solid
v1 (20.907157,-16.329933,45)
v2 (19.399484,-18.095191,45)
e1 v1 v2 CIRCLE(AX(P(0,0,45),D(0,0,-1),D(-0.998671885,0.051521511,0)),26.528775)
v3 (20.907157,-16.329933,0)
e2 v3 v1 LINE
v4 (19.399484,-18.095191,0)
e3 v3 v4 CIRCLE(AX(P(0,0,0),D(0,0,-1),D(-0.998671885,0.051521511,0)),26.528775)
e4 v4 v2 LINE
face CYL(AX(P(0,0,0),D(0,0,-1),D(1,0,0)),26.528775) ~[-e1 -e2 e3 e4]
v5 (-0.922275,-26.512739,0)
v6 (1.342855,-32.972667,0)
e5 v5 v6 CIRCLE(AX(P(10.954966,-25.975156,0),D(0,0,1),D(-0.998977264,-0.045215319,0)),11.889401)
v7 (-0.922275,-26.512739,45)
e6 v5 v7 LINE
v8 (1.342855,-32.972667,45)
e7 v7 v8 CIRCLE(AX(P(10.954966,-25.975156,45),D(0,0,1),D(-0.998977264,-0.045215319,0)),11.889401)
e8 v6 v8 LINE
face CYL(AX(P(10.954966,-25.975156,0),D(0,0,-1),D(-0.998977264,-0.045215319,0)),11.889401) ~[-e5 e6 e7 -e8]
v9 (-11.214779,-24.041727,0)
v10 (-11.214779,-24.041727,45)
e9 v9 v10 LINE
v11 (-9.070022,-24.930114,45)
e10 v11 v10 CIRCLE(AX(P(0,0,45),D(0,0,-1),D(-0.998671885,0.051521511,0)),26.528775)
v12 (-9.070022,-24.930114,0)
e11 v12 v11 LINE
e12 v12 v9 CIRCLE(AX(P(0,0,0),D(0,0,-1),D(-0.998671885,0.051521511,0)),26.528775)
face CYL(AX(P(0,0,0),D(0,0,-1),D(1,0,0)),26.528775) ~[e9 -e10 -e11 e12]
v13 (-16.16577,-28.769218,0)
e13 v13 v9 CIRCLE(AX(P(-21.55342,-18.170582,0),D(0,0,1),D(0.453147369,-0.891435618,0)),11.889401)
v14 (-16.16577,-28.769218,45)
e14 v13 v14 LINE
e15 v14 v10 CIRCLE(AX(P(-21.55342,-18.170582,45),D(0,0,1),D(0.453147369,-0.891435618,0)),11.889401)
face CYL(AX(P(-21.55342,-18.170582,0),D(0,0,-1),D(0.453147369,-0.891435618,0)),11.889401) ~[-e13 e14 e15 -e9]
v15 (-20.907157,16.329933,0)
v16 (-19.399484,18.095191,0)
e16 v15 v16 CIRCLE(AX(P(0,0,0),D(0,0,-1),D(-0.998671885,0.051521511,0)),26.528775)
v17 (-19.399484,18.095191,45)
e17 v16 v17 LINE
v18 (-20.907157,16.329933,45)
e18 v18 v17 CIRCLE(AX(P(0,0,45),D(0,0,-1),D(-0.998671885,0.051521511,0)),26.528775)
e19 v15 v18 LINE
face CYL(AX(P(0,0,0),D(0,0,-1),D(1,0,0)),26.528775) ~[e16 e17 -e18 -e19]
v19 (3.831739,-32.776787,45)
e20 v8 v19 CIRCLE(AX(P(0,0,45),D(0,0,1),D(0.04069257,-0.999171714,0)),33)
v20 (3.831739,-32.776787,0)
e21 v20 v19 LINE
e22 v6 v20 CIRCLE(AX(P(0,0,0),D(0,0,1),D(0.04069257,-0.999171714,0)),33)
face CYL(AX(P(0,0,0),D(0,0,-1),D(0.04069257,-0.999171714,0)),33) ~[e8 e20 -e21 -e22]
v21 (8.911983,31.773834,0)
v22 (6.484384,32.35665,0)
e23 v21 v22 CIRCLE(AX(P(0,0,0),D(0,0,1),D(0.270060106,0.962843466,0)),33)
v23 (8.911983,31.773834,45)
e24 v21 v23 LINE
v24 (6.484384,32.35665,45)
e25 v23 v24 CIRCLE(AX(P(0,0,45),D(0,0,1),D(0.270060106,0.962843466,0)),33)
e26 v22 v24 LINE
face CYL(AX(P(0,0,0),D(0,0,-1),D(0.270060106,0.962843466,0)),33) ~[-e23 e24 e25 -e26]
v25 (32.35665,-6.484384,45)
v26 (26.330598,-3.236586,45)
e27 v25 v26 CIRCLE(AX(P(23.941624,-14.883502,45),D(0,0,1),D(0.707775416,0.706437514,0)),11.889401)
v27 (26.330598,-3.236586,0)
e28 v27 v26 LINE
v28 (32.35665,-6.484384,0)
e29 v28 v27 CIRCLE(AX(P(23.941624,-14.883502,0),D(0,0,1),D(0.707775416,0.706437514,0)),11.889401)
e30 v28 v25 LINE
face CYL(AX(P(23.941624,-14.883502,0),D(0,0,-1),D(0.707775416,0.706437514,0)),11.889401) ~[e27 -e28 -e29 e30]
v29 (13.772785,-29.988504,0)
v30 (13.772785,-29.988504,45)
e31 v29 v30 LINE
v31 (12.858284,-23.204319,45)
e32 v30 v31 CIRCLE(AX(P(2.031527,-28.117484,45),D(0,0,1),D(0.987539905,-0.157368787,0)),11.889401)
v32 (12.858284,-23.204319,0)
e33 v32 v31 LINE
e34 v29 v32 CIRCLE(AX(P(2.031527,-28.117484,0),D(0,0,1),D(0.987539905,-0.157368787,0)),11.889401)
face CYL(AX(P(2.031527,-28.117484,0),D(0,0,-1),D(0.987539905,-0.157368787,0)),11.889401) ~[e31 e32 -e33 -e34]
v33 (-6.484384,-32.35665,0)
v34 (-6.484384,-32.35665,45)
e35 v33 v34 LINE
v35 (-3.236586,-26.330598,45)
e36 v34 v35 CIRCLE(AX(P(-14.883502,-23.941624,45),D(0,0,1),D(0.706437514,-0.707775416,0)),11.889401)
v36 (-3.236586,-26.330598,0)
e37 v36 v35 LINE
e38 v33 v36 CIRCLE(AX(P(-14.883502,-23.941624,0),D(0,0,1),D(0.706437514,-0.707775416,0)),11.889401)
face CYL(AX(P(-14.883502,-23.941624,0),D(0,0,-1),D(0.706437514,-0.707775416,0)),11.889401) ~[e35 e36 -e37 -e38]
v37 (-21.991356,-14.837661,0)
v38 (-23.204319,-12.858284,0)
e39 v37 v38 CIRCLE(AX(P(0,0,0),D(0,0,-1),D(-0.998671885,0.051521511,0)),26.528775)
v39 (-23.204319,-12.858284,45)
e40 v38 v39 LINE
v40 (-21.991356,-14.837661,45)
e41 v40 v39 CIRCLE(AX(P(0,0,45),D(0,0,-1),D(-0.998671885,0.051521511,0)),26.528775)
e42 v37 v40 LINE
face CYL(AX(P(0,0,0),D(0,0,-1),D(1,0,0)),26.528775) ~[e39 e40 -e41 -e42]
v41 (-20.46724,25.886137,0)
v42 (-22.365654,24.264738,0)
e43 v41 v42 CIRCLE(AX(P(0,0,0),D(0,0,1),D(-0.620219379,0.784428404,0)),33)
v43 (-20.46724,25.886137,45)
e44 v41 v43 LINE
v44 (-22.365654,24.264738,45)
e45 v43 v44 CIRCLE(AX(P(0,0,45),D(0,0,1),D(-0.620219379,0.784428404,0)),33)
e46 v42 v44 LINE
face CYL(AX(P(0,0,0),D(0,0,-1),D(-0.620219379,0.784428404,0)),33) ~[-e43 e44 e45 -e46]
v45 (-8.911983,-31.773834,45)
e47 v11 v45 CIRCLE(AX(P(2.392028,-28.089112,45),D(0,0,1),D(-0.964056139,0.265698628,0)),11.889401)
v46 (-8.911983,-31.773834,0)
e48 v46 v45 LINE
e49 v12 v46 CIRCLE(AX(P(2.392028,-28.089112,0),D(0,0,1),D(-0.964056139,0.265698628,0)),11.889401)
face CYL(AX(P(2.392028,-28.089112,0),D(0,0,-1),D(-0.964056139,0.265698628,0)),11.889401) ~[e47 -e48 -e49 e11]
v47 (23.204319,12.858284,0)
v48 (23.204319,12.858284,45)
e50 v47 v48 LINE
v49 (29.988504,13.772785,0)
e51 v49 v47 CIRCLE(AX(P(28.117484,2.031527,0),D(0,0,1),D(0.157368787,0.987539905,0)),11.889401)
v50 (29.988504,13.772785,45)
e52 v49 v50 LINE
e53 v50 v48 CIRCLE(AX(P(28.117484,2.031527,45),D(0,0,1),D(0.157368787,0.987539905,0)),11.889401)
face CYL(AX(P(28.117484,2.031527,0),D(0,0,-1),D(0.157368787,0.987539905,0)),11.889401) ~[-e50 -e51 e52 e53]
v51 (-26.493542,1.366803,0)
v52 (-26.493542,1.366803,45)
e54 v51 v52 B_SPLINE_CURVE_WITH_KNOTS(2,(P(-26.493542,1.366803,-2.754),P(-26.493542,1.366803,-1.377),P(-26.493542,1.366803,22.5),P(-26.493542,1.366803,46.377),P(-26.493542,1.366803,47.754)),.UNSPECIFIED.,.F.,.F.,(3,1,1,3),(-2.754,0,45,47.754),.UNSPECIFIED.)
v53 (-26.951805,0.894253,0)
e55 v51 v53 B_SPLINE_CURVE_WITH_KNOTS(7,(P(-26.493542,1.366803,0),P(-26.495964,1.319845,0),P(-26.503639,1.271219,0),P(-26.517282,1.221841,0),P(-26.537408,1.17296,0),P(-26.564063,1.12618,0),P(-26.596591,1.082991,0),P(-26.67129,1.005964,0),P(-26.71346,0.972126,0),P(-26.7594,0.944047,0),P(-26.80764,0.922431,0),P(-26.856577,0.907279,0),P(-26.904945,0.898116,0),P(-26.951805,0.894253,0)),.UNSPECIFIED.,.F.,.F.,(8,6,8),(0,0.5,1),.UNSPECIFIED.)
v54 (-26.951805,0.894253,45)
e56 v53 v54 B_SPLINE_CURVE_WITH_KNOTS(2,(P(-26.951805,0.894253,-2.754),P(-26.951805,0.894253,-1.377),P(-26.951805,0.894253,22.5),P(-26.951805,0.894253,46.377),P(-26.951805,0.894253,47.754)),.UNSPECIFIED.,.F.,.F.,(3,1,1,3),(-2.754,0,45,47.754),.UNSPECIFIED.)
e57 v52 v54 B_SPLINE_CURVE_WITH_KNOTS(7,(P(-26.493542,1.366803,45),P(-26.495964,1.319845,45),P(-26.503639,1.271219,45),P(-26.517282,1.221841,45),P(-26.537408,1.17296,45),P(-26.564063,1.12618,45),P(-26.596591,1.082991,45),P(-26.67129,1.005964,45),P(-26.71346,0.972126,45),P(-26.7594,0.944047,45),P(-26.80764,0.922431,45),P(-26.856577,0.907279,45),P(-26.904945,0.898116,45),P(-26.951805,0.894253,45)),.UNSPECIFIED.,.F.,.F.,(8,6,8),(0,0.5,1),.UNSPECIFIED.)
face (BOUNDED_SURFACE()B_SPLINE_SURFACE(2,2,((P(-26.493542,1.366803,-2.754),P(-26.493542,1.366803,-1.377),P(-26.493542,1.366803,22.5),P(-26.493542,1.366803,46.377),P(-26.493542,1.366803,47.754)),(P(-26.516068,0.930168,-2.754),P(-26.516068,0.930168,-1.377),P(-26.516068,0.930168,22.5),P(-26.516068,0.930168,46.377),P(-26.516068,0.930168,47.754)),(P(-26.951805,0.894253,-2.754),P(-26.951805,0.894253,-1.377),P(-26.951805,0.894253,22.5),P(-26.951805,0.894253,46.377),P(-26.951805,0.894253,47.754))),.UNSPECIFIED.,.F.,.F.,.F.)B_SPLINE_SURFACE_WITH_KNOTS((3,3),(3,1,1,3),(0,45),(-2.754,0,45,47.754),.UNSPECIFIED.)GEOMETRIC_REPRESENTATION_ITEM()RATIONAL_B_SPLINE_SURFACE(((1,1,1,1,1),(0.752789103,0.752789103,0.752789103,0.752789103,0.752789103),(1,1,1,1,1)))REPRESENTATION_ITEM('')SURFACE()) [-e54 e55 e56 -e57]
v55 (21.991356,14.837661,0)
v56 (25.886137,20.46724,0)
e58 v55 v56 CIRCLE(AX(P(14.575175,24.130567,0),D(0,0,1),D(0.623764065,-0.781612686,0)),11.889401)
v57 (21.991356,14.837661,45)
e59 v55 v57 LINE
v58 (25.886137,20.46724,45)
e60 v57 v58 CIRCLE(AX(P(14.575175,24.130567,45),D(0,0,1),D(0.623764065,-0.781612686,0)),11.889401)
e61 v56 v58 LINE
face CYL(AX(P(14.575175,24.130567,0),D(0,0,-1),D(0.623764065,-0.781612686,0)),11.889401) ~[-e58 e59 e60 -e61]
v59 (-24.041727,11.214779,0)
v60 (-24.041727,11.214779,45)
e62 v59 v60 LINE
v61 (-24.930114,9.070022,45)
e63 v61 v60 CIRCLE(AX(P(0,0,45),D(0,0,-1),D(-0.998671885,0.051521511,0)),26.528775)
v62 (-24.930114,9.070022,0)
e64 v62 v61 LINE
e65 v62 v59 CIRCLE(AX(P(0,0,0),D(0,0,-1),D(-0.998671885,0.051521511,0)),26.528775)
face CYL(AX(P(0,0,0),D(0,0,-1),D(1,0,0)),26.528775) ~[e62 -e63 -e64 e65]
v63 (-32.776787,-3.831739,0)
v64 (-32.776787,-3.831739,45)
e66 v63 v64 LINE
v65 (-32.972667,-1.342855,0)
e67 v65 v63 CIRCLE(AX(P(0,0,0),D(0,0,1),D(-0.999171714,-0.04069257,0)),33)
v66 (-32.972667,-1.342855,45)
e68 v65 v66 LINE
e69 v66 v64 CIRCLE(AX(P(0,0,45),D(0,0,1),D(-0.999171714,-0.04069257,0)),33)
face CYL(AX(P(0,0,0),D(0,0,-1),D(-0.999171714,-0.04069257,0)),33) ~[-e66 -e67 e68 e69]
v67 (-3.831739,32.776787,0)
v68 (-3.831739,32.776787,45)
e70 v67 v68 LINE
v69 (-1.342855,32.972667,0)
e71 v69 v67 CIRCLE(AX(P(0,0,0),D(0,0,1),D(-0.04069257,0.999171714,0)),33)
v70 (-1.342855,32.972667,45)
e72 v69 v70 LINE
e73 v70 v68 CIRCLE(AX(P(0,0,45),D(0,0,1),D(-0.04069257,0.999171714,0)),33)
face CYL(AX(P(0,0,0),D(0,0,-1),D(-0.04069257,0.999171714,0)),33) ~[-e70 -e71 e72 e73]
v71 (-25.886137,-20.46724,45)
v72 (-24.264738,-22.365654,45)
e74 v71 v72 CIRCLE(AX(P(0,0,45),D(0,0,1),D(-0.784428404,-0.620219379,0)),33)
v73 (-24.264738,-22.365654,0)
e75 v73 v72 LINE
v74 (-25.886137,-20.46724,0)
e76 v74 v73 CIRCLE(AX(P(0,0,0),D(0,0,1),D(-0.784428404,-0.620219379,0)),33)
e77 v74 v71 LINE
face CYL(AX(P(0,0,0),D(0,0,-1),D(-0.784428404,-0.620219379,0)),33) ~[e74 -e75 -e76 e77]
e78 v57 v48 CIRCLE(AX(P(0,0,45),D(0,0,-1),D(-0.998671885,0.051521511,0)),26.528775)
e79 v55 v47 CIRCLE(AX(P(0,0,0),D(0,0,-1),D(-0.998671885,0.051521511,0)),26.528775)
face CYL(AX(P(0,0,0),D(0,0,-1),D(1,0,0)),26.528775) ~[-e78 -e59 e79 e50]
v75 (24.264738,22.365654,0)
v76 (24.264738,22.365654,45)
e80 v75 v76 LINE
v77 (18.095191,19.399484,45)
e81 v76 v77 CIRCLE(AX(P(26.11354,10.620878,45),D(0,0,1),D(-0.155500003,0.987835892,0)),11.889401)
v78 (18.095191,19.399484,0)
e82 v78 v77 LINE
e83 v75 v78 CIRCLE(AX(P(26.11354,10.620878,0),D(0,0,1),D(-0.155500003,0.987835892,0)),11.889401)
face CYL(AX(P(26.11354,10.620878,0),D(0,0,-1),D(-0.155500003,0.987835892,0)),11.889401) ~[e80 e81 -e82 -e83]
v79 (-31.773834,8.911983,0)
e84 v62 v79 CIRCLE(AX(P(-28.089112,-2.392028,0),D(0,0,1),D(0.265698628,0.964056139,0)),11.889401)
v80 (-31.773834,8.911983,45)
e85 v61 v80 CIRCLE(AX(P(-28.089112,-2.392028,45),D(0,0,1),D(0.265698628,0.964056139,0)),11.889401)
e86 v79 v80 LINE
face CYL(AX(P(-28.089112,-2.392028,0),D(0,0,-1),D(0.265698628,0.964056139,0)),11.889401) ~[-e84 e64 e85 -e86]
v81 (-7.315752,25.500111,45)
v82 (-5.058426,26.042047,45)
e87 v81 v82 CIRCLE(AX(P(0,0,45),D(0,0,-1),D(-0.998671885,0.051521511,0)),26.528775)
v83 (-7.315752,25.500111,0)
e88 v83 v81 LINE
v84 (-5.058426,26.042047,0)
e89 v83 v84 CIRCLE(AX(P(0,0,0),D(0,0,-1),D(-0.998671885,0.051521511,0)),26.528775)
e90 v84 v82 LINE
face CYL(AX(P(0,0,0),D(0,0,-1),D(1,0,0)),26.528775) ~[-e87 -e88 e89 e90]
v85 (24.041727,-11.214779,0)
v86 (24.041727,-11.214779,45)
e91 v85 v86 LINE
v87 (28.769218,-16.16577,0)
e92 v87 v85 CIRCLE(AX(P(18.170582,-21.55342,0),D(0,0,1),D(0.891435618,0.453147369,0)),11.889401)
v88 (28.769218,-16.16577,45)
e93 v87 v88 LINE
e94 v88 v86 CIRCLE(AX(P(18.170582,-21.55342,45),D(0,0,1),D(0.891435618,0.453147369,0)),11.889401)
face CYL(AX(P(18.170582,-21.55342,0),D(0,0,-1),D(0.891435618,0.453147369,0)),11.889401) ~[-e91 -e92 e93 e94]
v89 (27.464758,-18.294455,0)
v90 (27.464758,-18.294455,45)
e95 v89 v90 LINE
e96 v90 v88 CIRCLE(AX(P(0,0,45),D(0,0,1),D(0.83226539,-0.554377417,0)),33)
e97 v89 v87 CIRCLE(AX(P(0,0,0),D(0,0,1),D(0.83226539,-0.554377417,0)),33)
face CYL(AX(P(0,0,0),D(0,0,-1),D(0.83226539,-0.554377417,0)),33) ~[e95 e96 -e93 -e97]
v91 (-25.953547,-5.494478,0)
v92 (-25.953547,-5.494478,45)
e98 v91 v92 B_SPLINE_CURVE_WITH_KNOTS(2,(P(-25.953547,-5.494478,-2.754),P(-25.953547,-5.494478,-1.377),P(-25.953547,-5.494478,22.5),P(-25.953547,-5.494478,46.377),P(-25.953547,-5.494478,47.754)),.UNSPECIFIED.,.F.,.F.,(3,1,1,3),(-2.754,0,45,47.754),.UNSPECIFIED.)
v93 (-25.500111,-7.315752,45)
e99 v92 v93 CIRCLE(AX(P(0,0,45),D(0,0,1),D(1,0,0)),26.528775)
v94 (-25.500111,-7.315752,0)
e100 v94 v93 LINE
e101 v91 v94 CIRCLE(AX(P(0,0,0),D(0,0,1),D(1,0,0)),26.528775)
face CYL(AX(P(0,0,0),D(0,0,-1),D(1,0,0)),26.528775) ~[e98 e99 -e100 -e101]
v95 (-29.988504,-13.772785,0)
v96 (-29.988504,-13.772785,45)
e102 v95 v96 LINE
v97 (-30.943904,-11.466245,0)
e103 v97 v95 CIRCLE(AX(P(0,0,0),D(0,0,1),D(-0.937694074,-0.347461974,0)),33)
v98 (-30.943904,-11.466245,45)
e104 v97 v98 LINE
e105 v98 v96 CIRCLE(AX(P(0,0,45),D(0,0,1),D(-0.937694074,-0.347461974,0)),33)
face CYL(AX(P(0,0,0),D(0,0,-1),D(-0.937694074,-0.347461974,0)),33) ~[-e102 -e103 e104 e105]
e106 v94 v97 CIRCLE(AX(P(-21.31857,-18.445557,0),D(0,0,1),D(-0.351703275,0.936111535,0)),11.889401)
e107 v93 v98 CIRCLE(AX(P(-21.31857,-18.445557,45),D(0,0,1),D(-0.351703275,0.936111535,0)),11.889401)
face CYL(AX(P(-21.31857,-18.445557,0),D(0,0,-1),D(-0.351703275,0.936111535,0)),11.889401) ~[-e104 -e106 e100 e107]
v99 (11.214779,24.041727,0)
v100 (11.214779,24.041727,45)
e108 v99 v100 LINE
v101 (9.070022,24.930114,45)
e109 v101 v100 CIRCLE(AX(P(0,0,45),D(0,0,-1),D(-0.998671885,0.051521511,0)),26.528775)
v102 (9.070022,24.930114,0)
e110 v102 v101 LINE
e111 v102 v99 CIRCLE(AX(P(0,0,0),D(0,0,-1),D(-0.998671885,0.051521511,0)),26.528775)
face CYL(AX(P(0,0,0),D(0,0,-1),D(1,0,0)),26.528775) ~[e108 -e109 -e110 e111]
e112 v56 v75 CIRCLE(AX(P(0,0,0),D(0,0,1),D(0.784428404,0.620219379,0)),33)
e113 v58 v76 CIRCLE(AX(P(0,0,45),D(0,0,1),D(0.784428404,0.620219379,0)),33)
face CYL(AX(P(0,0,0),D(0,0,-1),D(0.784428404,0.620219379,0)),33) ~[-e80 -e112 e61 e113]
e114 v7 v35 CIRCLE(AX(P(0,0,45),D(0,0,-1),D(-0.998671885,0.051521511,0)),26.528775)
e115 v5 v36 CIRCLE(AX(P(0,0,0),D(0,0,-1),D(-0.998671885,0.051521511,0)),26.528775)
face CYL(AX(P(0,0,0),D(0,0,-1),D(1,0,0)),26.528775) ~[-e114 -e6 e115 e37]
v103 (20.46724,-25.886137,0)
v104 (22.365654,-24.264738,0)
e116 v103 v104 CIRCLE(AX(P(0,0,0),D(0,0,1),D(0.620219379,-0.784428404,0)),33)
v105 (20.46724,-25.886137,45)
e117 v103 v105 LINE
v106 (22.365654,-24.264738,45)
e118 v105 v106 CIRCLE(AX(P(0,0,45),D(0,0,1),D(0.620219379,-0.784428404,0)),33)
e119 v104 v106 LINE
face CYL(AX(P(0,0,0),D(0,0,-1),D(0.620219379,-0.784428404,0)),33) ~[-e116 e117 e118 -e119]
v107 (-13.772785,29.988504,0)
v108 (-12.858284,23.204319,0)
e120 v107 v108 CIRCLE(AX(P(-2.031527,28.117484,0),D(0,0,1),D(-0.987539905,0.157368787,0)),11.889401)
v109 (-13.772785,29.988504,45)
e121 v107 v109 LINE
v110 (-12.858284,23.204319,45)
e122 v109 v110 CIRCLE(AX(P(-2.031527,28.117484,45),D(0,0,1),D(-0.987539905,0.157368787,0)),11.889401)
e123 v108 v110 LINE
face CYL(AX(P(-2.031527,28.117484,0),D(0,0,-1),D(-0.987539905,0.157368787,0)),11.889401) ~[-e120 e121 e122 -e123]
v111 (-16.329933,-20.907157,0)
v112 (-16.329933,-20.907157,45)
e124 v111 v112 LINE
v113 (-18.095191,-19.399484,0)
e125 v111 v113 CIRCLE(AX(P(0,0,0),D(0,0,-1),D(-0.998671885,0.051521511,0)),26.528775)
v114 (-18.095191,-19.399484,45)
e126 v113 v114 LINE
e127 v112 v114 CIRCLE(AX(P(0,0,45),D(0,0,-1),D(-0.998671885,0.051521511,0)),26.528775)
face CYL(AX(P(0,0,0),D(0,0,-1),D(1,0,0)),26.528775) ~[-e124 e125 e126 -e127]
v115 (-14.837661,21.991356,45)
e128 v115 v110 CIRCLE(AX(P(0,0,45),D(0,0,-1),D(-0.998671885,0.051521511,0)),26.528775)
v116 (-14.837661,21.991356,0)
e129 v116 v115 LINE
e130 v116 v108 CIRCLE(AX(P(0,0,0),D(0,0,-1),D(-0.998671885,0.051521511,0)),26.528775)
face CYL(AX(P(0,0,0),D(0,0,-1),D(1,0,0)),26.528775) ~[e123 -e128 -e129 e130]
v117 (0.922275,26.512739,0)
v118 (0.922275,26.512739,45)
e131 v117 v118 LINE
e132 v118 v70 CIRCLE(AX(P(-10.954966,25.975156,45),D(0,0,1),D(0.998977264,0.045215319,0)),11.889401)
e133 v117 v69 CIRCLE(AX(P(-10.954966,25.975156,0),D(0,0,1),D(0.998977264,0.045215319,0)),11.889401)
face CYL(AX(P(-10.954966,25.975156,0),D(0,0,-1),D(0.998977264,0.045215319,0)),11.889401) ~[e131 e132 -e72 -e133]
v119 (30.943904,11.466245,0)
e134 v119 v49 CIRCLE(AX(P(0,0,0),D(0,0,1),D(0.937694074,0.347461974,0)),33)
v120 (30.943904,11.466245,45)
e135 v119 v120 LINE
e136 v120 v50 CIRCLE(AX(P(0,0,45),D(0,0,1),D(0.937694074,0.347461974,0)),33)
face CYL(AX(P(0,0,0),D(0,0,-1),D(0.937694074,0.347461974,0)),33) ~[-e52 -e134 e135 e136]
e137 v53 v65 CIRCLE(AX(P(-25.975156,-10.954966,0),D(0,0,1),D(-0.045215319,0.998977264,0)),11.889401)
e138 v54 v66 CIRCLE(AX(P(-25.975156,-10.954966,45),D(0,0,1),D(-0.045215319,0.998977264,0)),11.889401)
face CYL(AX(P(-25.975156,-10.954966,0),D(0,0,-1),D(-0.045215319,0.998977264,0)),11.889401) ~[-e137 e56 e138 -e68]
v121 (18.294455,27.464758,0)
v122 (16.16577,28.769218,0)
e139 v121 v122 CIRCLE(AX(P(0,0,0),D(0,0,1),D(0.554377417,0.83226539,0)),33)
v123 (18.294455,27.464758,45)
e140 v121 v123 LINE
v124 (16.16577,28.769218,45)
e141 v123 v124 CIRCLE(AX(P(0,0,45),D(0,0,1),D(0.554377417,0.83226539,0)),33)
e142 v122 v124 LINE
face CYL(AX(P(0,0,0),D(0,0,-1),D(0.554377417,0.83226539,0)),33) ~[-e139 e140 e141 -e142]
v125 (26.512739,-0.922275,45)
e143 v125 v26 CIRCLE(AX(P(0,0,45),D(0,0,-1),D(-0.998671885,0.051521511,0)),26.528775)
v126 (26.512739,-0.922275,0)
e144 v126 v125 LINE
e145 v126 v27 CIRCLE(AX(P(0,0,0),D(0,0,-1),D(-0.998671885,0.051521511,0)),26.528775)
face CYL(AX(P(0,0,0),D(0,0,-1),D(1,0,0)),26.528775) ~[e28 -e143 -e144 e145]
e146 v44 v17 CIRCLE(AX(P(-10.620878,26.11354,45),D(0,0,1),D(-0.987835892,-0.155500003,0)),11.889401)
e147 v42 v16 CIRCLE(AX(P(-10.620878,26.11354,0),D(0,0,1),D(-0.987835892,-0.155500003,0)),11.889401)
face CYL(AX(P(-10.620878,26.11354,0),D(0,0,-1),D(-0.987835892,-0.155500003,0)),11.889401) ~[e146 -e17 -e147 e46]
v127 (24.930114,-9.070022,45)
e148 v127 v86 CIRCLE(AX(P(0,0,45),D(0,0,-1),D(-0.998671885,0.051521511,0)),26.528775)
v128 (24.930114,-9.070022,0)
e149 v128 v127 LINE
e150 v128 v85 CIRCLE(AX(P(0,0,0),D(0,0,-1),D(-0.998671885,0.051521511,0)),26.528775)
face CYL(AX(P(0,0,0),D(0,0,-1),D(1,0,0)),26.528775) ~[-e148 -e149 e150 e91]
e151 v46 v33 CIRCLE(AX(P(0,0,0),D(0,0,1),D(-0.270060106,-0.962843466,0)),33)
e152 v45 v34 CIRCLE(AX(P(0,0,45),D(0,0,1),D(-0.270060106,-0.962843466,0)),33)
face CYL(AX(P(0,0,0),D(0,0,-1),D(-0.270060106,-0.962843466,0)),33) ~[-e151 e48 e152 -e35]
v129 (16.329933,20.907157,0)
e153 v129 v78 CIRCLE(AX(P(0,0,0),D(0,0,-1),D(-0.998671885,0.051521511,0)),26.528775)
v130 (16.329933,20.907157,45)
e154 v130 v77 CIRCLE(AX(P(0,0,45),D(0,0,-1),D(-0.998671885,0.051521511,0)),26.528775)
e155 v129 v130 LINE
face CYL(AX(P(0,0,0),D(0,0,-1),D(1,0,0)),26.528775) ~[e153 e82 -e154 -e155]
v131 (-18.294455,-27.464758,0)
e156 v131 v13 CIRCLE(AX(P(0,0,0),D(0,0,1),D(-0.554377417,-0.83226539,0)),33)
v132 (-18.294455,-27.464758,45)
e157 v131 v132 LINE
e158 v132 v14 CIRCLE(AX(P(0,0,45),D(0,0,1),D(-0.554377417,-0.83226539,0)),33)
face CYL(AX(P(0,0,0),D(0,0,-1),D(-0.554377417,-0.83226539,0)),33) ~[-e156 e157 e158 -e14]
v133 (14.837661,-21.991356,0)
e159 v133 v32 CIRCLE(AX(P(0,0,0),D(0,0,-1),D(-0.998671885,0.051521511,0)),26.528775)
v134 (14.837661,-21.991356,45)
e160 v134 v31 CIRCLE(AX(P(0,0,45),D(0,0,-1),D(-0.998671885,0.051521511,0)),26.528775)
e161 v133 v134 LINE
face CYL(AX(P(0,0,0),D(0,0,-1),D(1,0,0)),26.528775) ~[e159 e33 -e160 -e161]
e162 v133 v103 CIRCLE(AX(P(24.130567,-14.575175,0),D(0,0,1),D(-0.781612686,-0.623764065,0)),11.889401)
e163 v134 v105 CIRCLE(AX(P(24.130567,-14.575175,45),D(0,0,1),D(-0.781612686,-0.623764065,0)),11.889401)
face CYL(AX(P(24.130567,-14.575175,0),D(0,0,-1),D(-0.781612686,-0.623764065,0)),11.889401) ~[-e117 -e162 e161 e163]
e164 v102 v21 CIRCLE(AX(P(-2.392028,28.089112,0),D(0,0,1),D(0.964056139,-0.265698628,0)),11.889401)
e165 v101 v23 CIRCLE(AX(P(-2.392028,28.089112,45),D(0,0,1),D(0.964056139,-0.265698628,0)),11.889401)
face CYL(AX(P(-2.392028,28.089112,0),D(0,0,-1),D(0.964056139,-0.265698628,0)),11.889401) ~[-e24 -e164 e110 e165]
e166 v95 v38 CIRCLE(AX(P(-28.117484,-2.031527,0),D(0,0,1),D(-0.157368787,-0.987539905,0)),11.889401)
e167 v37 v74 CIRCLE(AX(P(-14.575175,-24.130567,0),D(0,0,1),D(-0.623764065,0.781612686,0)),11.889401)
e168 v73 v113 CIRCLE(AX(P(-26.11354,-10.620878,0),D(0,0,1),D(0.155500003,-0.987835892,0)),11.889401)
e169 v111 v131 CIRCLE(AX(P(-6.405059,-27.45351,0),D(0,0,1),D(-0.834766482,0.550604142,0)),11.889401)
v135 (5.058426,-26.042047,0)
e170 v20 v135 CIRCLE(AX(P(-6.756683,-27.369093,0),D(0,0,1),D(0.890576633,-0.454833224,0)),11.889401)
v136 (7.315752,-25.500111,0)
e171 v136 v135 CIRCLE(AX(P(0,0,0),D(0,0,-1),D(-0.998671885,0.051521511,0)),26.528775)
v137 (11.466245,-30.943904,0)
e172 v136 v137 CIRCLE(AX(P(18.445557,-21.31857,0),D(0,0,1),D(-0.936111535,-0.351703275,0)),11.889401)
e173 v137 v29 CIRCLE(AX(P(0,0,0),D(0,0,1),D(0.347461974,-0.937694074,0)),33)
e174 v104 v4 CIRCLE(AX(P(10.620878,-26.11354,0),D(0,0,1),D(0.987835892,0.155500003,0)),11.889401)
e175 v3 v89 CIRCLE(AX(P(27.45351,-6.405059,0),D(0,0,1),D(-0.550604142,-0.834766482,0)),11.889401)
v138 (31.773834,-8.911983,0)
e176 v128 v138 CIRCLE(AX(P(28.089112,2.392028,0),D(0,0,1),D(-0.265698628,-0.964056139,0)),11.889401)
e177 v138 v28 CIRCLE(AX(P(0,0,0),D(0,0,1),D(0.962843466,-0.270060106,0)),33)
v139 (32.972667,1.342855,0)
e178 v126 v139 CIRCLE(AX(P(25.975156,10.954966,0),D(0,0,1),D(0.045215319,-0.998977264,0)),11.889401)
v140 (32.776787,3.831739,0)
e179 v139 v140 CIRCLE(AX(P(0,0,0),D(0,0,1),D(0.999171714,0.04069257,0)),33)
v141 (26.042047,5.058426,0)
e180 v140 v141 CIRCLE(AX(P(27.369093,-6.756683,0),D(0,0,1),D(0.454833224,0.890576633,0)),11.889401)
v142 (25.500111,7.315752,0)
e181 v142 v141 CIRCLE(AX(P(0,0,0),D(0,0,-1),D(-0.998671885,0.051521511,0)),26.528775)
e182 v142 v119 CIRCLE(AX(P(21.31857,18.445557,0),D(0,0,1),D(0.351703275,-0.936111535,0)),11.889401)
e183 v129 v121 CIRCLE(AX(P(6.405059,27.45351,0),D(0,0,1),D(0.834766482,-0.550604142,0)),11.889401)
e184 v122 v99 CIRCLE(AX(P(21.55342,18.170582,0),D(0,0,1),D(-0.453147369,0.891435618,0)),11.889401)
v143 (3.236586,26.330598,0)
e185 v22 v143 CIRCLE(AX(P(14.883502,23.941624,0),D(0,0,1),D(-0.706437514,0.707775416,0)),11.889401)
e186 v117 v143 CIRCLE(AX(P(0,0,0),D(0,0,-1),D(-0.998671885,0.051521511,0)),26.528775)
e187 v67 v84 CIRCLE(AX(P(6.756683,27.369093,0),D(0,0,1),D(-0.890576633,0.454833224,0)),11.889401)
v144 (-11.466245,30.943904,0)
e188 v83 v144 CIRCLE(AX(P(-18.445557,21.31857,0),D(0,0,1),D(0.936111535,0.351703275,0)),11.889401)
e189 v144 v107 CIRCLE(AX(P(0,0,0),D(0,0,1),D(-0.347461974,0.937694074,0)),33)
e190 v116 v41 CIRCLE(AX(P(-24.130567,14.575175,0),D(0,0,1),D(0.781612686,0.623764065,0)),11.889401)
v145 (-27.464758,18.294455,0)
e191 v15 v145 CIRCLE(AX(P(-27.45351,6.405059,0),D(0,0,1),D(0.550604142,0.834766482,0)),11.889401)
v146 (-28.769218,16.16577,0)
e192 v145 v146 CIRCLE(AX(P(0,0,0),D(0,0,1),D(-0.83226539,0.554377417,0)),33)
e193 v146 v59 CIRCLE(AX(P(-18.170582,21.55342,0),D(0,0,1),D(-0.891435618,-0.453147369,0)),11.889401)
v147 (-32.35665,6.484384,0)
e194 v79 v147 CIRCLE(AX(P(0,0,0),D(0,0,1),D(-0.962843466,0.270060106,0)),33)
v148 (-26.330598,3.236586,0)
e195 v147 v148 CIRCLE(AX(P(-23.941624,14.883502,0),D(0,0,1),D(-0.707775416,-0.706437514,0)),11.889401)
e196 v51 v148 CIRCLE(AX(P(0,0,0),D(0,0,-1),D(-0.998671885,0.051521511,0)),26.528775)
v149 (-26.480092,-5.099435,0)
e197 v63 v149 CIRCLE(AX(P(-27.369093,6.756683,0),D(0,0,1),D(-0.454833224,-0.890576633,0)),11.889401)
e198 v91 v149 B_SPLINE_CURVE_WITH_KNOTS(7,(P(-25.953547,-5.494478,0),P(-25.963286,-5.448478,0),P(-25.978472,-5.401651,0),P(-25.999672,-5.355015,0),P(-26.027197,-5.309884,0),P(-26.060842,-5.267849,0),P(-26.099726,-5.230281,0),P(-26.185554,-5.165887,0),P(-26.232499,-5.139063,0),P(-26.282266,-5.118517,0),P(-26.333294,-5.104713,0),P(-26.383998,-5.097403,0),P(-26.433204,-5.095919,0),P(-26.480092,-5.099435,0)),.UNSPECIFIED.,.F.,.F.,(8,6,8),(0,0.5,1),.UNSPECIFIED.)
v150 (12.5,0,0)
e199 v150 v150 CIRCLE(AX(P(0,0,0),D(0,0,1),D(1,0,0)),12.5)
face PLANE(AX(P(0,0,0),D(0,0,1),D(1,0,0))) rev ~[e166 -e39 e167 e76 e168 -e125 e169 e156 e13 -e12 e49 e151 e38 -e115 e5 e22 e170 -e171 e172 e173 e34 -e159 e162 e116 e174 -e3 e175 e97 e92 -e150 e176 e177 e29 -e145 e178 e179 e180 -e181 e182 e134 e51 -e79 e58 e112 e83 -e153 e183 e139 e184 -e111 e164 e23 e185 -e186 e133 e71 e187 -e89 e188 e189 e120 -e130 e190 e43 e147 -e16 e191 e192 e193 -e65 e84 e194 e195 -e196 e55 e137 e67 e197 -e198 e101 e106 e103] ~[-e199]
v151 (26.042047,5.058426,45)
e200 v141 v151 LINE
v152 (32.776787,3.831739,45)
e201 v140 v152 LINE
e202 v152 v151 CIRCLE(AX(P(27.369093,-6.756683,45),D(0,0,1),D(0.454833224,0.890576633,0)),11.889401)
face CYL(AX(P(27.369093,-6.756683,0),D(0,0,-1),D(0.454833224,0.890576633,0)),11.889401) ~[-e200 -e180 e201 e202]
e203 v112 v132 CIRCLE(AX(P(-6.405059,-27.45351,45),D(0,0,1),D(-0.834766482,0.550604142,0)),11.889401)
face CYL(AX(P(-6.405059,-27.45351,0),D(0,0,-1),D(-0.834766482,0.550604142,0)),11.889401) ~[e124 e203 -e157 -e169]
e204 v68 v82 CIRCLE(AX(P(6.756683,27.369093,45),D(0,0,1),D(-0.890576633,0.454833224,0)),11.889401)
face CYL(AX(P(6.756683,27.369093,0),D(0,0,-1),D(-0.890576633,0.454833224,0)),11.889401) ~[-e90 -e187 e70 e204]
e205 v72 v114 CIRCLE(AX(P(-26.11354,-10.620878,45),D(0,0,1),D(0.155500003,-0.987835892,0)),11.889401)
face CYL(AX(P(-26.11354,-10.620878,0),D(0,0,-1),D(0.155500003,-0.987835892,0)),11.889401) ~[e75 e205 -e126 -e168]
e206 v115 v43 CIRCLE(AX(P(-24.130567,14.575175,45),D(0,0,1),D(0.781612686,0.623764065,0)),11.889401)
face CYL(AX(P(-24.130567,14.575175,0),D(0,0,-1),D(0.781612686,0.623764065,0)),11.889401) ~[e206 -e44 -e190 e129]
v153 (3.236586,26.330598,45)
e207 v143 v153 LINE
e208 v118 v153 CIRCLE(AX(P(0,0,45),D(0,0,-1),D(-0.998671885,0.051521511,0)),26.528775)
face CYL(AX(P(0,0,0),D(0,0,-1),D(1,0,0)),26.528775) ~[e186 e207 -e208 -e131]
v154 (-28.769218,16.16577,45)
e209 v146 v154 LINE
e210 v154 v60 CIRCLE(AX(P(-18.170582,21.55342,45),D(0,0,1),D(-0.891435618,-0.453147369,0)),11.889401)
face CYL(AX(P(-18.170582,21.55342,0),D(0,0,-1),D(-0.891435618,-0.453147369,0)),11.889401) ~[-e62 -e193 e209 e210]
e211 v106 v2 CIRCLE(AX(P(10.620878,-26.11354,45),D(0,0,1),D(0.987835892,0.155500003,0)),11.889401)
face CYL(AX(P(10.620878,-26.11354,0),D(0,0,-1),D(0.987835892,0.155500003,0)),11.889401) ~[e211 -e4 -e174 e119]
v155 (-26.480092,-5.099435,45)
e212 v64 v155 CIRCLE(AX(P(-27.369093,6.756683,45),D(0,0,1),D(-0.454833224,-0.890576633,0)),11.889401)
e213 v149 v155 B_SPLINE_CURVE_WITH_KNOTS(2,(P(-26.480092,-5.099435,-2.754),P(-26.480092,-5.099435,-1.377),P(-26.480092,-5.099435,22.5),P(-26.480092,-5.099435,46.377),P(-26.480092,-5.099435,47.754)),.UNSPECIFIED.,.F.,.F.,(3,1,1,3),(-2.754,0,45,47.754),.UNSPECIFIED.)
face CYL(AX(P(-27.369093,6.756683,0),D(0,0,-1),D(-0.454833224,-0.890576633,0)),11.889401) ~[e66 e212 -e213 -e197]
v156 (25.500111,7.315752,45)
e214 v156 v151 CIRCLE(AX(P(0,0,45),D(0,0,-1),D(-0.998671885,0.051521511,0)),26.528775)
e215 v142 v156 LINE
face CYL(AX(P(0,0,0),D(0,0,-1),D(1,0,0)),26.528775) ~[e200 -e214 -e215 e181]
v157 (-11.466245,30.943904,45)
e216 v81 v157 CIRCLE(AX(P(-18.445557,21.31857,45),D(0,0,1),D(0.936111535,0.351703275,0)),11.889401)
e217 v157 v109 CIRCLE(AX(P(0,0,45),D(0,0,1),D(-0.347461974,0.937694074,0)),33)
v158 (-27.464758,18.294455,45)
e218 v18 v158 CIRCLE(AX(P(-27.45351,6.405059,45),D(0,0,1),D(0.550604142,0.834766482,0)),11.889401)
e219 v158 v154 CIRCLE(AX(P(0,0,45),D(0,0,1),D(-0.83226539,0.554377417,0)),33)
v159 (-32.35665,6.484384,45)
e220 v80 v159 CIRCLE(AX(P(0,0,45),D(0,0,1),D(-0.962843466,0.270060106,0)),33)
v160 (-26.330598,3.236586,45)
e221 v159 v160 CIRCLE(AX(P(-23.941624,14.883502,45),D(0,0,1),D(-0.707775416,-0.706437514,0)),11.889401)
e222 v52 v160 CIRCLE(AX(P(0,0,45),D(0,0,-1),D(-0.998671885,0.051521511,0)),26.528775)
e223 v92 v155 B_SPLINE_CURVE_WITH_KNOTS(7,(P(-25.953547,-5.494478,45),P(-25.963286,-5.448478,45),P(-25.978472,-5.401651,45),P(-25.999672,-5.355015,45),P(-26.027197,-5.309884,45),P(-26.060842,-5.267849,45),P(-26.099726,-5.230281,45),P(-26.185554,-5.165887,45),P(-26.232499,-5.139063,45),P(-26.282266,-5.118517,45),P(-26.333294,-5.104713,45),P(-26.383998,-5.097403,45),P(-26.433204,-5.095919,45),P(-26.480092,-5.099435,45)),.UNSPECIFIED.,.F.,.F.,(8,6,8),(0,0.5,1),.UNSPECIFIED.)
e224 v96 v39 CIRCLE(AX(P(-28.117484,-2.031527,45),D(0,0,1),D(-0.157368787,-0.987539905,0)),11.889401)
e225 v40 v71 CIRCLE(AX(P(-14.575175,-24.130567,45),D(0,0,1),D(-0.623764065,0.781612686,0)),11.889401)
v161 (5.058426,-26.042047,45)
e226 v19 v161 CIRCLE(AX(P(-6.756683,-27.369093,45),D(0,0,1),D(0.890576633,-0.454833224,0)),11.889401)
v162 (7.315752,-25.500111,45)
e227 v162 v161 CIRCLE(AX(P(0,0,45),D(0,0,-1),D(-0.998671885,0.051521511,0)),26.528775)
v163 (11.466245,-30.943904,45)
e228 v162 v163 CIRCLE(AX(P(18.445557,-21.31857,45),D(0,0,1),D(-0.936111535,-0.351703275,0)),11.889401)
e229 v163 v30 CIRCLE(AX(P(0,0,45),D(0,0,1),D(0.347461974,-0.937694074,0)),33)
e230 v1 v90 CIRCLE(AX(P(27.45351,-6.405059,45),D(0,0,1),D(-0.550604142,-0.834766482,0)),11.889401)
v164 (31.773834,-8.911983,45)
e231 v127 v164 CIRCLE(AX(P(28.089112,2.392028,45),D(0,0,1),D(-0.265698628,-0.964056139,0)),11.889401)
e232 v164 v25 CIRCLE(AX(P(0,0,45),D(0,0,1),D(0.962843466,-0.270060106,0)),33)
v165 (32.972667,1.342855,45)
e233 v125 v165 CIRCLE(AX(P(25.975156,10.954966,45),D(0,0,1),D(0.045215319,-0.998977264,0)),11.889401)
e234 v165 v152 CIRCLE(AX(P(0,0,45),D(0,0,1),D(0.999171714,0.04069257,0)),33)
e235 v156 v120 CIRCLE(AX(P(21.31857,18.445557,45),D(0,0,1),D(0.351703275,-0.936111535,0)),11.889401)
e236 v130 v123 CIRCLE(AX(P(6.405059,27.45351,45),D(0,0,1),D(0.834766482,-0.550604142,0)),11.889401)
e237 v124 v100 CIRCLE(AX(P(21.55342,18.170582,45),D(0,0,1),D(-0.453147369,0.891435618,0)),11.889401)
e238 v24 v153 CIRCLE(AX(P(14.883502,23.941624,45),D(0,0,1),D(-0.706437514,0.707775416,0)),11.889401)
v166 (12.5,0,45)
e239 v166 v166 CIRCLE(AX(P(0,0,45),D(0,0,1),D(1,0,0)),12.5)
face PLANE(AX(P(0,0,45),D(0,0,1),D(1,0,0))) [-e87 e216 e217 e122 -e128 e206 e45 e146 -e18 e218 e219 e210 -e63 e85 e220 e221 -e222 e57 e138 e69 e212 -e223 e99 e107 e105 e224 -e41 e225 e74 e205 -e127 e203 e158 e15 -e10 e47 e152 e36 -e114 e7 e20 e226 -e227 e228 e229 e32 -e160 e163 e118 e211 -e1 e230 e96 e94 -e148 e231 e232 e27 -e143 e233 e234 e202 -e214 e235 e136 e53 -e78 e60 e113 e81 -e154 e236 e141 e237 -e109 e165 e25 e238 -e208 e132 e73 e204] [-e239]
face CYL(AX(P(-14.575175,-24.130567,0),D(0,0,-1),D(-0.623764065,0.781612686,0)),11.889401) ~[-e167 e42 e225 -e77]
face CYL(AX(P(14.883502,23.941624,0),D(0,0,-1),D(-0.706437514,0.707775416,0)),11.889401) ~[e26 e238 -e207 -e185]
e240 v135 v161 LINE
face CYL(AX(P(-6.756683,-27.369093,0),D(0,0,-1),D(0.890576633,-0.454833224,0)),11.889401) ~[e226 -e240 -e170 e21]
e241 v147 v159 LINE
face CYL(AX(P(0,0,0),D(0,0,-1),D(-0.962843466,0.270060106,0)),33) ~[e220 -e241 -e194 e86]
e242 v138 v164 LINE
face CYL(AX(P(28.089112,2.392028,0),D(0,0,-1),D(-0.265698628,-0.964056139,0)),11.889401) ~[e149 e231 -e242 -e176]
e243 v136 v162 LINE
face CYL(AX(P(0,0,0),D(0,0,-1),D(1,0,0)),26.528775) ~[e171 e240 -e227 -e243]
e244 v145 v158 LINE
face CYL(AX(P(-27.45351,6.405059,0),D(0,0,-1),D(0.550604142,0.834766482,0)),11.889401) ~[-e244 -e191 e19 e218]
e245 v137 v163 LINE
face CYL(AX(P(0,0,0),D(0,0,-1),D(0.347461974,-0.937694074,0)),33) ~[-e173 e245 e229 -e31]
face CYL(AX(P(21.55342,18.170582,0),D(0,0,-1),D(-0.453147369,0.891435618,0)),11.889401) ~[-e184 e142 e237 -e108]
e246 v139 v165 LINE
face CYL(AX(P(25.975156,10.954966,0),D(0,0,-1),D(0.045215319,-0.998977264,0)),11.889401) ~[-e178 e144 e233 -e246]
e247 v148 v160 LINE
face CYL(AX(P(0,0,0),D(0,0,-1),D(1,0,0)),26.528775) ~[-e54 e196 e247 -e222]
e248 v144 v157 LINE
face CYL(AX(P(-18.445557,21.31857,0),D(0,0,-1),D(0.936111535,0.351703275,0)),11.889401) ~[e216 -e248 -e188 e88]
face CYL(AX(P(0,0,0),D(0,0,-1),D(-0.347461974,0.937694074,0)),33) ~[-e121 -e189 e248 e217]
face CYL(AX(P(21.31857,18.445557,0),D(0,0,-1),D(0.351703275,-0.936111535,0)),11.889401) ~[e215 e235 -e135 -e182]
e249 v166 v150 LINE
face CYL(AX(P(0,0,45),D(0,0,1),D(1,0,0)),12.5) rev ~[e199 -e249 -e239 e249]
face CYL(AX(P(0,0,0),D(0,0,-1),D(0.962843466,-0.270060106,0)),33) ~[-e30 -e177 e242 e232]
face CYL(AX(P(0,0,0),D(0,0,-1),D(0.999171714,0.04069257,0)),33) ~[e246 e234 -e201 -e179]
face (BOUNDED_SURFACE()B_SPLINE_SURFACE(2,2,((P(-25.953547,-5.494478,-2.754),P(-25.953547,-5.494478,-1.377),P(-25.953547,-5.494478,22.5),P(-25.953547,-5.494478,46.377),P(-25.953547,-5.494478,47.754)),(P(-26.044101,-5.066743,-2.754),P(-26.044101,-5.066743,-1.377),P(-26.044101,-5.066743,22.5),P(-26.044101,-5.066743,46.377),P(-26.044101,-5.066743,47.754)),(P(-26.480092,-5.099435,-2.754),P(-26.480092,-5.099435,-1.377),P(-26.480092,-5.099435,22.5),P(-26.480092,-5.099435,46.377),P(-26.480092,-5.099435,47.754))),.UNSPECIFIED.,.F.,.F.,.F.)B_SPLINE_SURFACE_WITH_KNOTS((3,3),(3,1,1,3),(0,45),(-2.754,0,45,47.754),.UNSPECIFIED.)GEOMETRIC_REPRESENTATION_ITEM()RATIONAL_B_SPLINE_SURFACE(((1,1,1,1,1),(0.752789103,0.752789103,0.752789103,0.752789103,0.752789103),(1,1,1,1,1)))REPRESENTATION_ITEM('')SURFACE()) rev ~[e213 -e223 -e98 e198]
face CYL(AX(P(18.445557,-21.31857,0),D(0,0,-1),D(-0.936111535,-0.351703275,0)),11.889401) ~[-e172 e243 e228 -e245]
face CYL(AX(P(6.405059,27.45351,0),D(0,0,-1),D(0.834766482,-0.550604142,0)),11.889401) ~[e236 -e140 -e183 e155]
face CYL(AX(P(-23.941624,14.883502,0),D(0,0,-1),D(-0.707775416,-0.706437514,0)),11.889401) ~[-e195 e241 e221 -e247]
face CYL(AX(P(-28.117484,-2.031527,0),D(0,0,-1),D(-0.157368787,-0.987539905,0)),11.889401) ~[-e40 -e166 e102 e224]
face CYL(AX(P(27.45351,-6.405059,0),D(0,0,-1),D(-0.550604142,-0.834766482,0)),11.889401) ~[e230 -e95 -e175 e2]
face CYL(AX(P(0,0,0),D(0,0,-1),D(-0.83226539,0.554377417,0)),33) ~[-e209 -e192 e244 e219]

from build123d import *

# Parameters (mm, degrees)
BOSS_EXTRUDE3_DEPTH = 45
SKETCH2_R           = 26.528775
BOSS_EXTRUDE4_DEPTH = 45
FILLET1_R           = 0.5
FILLET3_R           = 0.5
CIRPATTERN1_COUNT   = 20
SKETCH6_R           = 12.5
CUT_EXTRUDE1_DEPTH  = 45


with BuildPart() as part:
    # Sketch5 → Boss-Extrude3 (new body)
    with BuildSketch(Plane.XY):
        with BuildLine():
            ThreePointArc((-26.512738687, 0.922274544), (-29.909251863, 0.264692013), (-32.972666572, -1.342854834))
            ThreePointArc((-32.972666572, -1.342854834), (-32.898272013, -2.589150159), (-32.776787109, -3.831739394))
            ThreePointArc((-32.776787109, -3.831739394), (-29.499612388, -4.94027103), (-26.042047353, -5.058425907))
            ThreePointArc((-26.042047353, -5.058425907), (-26.44699564, -2.081423697), (-26.512738687, 0.922274544))
        make_face()
    boss_extrude3 = extrude(amount=BOSS_EXTRUDE3_DEPTH)

    # Sketch2 → Boss-Extrude4 (add)
    with BuildSketch(Plane.XY):
        Circle(SKETCH2_R)
    extrude(amount=BOSS_EXTRUDE4_DEPTH)

    # Fillet1
    fillet1_edges = [part.edges().sort_by_distance(p)[0] for p in [
        (-26.512738687, 0.922274544, 22.5),
    ]]
    fillet(fillet1_edges, radius=FILLET1_R)

    # Fillet3
    fillet3_edges = [part.edges().sort_by_distance(p)[0] for p in [
        (-26.042047353, -5.058425907, 22.5),
    ]]
    fillet(fillet3_edges, radius=FILLET3_R)

    # CirPattern1: Boss-Extrude3 ×20 about axis
    cirpattern1_axis = Axis((0, 0, 0), (0, 0, 1))
    for i in range(1, CIRPATTERN1_COUNT):
        add(boss_extrude3.rotate(cirpattern1_axis, i * 360 / CIRPATTERN1_COUNT))

    # Sketch6 → Cut-Extrude1 (cut)
    with BuildSketch(Plane.XY.offset(45)):
        Circle(SKETCH6_R)
    extrude(amount=-CUT_EXTRUDE1_DEPTH, mode=Mode.SUBTRACT)


solid = part.part
